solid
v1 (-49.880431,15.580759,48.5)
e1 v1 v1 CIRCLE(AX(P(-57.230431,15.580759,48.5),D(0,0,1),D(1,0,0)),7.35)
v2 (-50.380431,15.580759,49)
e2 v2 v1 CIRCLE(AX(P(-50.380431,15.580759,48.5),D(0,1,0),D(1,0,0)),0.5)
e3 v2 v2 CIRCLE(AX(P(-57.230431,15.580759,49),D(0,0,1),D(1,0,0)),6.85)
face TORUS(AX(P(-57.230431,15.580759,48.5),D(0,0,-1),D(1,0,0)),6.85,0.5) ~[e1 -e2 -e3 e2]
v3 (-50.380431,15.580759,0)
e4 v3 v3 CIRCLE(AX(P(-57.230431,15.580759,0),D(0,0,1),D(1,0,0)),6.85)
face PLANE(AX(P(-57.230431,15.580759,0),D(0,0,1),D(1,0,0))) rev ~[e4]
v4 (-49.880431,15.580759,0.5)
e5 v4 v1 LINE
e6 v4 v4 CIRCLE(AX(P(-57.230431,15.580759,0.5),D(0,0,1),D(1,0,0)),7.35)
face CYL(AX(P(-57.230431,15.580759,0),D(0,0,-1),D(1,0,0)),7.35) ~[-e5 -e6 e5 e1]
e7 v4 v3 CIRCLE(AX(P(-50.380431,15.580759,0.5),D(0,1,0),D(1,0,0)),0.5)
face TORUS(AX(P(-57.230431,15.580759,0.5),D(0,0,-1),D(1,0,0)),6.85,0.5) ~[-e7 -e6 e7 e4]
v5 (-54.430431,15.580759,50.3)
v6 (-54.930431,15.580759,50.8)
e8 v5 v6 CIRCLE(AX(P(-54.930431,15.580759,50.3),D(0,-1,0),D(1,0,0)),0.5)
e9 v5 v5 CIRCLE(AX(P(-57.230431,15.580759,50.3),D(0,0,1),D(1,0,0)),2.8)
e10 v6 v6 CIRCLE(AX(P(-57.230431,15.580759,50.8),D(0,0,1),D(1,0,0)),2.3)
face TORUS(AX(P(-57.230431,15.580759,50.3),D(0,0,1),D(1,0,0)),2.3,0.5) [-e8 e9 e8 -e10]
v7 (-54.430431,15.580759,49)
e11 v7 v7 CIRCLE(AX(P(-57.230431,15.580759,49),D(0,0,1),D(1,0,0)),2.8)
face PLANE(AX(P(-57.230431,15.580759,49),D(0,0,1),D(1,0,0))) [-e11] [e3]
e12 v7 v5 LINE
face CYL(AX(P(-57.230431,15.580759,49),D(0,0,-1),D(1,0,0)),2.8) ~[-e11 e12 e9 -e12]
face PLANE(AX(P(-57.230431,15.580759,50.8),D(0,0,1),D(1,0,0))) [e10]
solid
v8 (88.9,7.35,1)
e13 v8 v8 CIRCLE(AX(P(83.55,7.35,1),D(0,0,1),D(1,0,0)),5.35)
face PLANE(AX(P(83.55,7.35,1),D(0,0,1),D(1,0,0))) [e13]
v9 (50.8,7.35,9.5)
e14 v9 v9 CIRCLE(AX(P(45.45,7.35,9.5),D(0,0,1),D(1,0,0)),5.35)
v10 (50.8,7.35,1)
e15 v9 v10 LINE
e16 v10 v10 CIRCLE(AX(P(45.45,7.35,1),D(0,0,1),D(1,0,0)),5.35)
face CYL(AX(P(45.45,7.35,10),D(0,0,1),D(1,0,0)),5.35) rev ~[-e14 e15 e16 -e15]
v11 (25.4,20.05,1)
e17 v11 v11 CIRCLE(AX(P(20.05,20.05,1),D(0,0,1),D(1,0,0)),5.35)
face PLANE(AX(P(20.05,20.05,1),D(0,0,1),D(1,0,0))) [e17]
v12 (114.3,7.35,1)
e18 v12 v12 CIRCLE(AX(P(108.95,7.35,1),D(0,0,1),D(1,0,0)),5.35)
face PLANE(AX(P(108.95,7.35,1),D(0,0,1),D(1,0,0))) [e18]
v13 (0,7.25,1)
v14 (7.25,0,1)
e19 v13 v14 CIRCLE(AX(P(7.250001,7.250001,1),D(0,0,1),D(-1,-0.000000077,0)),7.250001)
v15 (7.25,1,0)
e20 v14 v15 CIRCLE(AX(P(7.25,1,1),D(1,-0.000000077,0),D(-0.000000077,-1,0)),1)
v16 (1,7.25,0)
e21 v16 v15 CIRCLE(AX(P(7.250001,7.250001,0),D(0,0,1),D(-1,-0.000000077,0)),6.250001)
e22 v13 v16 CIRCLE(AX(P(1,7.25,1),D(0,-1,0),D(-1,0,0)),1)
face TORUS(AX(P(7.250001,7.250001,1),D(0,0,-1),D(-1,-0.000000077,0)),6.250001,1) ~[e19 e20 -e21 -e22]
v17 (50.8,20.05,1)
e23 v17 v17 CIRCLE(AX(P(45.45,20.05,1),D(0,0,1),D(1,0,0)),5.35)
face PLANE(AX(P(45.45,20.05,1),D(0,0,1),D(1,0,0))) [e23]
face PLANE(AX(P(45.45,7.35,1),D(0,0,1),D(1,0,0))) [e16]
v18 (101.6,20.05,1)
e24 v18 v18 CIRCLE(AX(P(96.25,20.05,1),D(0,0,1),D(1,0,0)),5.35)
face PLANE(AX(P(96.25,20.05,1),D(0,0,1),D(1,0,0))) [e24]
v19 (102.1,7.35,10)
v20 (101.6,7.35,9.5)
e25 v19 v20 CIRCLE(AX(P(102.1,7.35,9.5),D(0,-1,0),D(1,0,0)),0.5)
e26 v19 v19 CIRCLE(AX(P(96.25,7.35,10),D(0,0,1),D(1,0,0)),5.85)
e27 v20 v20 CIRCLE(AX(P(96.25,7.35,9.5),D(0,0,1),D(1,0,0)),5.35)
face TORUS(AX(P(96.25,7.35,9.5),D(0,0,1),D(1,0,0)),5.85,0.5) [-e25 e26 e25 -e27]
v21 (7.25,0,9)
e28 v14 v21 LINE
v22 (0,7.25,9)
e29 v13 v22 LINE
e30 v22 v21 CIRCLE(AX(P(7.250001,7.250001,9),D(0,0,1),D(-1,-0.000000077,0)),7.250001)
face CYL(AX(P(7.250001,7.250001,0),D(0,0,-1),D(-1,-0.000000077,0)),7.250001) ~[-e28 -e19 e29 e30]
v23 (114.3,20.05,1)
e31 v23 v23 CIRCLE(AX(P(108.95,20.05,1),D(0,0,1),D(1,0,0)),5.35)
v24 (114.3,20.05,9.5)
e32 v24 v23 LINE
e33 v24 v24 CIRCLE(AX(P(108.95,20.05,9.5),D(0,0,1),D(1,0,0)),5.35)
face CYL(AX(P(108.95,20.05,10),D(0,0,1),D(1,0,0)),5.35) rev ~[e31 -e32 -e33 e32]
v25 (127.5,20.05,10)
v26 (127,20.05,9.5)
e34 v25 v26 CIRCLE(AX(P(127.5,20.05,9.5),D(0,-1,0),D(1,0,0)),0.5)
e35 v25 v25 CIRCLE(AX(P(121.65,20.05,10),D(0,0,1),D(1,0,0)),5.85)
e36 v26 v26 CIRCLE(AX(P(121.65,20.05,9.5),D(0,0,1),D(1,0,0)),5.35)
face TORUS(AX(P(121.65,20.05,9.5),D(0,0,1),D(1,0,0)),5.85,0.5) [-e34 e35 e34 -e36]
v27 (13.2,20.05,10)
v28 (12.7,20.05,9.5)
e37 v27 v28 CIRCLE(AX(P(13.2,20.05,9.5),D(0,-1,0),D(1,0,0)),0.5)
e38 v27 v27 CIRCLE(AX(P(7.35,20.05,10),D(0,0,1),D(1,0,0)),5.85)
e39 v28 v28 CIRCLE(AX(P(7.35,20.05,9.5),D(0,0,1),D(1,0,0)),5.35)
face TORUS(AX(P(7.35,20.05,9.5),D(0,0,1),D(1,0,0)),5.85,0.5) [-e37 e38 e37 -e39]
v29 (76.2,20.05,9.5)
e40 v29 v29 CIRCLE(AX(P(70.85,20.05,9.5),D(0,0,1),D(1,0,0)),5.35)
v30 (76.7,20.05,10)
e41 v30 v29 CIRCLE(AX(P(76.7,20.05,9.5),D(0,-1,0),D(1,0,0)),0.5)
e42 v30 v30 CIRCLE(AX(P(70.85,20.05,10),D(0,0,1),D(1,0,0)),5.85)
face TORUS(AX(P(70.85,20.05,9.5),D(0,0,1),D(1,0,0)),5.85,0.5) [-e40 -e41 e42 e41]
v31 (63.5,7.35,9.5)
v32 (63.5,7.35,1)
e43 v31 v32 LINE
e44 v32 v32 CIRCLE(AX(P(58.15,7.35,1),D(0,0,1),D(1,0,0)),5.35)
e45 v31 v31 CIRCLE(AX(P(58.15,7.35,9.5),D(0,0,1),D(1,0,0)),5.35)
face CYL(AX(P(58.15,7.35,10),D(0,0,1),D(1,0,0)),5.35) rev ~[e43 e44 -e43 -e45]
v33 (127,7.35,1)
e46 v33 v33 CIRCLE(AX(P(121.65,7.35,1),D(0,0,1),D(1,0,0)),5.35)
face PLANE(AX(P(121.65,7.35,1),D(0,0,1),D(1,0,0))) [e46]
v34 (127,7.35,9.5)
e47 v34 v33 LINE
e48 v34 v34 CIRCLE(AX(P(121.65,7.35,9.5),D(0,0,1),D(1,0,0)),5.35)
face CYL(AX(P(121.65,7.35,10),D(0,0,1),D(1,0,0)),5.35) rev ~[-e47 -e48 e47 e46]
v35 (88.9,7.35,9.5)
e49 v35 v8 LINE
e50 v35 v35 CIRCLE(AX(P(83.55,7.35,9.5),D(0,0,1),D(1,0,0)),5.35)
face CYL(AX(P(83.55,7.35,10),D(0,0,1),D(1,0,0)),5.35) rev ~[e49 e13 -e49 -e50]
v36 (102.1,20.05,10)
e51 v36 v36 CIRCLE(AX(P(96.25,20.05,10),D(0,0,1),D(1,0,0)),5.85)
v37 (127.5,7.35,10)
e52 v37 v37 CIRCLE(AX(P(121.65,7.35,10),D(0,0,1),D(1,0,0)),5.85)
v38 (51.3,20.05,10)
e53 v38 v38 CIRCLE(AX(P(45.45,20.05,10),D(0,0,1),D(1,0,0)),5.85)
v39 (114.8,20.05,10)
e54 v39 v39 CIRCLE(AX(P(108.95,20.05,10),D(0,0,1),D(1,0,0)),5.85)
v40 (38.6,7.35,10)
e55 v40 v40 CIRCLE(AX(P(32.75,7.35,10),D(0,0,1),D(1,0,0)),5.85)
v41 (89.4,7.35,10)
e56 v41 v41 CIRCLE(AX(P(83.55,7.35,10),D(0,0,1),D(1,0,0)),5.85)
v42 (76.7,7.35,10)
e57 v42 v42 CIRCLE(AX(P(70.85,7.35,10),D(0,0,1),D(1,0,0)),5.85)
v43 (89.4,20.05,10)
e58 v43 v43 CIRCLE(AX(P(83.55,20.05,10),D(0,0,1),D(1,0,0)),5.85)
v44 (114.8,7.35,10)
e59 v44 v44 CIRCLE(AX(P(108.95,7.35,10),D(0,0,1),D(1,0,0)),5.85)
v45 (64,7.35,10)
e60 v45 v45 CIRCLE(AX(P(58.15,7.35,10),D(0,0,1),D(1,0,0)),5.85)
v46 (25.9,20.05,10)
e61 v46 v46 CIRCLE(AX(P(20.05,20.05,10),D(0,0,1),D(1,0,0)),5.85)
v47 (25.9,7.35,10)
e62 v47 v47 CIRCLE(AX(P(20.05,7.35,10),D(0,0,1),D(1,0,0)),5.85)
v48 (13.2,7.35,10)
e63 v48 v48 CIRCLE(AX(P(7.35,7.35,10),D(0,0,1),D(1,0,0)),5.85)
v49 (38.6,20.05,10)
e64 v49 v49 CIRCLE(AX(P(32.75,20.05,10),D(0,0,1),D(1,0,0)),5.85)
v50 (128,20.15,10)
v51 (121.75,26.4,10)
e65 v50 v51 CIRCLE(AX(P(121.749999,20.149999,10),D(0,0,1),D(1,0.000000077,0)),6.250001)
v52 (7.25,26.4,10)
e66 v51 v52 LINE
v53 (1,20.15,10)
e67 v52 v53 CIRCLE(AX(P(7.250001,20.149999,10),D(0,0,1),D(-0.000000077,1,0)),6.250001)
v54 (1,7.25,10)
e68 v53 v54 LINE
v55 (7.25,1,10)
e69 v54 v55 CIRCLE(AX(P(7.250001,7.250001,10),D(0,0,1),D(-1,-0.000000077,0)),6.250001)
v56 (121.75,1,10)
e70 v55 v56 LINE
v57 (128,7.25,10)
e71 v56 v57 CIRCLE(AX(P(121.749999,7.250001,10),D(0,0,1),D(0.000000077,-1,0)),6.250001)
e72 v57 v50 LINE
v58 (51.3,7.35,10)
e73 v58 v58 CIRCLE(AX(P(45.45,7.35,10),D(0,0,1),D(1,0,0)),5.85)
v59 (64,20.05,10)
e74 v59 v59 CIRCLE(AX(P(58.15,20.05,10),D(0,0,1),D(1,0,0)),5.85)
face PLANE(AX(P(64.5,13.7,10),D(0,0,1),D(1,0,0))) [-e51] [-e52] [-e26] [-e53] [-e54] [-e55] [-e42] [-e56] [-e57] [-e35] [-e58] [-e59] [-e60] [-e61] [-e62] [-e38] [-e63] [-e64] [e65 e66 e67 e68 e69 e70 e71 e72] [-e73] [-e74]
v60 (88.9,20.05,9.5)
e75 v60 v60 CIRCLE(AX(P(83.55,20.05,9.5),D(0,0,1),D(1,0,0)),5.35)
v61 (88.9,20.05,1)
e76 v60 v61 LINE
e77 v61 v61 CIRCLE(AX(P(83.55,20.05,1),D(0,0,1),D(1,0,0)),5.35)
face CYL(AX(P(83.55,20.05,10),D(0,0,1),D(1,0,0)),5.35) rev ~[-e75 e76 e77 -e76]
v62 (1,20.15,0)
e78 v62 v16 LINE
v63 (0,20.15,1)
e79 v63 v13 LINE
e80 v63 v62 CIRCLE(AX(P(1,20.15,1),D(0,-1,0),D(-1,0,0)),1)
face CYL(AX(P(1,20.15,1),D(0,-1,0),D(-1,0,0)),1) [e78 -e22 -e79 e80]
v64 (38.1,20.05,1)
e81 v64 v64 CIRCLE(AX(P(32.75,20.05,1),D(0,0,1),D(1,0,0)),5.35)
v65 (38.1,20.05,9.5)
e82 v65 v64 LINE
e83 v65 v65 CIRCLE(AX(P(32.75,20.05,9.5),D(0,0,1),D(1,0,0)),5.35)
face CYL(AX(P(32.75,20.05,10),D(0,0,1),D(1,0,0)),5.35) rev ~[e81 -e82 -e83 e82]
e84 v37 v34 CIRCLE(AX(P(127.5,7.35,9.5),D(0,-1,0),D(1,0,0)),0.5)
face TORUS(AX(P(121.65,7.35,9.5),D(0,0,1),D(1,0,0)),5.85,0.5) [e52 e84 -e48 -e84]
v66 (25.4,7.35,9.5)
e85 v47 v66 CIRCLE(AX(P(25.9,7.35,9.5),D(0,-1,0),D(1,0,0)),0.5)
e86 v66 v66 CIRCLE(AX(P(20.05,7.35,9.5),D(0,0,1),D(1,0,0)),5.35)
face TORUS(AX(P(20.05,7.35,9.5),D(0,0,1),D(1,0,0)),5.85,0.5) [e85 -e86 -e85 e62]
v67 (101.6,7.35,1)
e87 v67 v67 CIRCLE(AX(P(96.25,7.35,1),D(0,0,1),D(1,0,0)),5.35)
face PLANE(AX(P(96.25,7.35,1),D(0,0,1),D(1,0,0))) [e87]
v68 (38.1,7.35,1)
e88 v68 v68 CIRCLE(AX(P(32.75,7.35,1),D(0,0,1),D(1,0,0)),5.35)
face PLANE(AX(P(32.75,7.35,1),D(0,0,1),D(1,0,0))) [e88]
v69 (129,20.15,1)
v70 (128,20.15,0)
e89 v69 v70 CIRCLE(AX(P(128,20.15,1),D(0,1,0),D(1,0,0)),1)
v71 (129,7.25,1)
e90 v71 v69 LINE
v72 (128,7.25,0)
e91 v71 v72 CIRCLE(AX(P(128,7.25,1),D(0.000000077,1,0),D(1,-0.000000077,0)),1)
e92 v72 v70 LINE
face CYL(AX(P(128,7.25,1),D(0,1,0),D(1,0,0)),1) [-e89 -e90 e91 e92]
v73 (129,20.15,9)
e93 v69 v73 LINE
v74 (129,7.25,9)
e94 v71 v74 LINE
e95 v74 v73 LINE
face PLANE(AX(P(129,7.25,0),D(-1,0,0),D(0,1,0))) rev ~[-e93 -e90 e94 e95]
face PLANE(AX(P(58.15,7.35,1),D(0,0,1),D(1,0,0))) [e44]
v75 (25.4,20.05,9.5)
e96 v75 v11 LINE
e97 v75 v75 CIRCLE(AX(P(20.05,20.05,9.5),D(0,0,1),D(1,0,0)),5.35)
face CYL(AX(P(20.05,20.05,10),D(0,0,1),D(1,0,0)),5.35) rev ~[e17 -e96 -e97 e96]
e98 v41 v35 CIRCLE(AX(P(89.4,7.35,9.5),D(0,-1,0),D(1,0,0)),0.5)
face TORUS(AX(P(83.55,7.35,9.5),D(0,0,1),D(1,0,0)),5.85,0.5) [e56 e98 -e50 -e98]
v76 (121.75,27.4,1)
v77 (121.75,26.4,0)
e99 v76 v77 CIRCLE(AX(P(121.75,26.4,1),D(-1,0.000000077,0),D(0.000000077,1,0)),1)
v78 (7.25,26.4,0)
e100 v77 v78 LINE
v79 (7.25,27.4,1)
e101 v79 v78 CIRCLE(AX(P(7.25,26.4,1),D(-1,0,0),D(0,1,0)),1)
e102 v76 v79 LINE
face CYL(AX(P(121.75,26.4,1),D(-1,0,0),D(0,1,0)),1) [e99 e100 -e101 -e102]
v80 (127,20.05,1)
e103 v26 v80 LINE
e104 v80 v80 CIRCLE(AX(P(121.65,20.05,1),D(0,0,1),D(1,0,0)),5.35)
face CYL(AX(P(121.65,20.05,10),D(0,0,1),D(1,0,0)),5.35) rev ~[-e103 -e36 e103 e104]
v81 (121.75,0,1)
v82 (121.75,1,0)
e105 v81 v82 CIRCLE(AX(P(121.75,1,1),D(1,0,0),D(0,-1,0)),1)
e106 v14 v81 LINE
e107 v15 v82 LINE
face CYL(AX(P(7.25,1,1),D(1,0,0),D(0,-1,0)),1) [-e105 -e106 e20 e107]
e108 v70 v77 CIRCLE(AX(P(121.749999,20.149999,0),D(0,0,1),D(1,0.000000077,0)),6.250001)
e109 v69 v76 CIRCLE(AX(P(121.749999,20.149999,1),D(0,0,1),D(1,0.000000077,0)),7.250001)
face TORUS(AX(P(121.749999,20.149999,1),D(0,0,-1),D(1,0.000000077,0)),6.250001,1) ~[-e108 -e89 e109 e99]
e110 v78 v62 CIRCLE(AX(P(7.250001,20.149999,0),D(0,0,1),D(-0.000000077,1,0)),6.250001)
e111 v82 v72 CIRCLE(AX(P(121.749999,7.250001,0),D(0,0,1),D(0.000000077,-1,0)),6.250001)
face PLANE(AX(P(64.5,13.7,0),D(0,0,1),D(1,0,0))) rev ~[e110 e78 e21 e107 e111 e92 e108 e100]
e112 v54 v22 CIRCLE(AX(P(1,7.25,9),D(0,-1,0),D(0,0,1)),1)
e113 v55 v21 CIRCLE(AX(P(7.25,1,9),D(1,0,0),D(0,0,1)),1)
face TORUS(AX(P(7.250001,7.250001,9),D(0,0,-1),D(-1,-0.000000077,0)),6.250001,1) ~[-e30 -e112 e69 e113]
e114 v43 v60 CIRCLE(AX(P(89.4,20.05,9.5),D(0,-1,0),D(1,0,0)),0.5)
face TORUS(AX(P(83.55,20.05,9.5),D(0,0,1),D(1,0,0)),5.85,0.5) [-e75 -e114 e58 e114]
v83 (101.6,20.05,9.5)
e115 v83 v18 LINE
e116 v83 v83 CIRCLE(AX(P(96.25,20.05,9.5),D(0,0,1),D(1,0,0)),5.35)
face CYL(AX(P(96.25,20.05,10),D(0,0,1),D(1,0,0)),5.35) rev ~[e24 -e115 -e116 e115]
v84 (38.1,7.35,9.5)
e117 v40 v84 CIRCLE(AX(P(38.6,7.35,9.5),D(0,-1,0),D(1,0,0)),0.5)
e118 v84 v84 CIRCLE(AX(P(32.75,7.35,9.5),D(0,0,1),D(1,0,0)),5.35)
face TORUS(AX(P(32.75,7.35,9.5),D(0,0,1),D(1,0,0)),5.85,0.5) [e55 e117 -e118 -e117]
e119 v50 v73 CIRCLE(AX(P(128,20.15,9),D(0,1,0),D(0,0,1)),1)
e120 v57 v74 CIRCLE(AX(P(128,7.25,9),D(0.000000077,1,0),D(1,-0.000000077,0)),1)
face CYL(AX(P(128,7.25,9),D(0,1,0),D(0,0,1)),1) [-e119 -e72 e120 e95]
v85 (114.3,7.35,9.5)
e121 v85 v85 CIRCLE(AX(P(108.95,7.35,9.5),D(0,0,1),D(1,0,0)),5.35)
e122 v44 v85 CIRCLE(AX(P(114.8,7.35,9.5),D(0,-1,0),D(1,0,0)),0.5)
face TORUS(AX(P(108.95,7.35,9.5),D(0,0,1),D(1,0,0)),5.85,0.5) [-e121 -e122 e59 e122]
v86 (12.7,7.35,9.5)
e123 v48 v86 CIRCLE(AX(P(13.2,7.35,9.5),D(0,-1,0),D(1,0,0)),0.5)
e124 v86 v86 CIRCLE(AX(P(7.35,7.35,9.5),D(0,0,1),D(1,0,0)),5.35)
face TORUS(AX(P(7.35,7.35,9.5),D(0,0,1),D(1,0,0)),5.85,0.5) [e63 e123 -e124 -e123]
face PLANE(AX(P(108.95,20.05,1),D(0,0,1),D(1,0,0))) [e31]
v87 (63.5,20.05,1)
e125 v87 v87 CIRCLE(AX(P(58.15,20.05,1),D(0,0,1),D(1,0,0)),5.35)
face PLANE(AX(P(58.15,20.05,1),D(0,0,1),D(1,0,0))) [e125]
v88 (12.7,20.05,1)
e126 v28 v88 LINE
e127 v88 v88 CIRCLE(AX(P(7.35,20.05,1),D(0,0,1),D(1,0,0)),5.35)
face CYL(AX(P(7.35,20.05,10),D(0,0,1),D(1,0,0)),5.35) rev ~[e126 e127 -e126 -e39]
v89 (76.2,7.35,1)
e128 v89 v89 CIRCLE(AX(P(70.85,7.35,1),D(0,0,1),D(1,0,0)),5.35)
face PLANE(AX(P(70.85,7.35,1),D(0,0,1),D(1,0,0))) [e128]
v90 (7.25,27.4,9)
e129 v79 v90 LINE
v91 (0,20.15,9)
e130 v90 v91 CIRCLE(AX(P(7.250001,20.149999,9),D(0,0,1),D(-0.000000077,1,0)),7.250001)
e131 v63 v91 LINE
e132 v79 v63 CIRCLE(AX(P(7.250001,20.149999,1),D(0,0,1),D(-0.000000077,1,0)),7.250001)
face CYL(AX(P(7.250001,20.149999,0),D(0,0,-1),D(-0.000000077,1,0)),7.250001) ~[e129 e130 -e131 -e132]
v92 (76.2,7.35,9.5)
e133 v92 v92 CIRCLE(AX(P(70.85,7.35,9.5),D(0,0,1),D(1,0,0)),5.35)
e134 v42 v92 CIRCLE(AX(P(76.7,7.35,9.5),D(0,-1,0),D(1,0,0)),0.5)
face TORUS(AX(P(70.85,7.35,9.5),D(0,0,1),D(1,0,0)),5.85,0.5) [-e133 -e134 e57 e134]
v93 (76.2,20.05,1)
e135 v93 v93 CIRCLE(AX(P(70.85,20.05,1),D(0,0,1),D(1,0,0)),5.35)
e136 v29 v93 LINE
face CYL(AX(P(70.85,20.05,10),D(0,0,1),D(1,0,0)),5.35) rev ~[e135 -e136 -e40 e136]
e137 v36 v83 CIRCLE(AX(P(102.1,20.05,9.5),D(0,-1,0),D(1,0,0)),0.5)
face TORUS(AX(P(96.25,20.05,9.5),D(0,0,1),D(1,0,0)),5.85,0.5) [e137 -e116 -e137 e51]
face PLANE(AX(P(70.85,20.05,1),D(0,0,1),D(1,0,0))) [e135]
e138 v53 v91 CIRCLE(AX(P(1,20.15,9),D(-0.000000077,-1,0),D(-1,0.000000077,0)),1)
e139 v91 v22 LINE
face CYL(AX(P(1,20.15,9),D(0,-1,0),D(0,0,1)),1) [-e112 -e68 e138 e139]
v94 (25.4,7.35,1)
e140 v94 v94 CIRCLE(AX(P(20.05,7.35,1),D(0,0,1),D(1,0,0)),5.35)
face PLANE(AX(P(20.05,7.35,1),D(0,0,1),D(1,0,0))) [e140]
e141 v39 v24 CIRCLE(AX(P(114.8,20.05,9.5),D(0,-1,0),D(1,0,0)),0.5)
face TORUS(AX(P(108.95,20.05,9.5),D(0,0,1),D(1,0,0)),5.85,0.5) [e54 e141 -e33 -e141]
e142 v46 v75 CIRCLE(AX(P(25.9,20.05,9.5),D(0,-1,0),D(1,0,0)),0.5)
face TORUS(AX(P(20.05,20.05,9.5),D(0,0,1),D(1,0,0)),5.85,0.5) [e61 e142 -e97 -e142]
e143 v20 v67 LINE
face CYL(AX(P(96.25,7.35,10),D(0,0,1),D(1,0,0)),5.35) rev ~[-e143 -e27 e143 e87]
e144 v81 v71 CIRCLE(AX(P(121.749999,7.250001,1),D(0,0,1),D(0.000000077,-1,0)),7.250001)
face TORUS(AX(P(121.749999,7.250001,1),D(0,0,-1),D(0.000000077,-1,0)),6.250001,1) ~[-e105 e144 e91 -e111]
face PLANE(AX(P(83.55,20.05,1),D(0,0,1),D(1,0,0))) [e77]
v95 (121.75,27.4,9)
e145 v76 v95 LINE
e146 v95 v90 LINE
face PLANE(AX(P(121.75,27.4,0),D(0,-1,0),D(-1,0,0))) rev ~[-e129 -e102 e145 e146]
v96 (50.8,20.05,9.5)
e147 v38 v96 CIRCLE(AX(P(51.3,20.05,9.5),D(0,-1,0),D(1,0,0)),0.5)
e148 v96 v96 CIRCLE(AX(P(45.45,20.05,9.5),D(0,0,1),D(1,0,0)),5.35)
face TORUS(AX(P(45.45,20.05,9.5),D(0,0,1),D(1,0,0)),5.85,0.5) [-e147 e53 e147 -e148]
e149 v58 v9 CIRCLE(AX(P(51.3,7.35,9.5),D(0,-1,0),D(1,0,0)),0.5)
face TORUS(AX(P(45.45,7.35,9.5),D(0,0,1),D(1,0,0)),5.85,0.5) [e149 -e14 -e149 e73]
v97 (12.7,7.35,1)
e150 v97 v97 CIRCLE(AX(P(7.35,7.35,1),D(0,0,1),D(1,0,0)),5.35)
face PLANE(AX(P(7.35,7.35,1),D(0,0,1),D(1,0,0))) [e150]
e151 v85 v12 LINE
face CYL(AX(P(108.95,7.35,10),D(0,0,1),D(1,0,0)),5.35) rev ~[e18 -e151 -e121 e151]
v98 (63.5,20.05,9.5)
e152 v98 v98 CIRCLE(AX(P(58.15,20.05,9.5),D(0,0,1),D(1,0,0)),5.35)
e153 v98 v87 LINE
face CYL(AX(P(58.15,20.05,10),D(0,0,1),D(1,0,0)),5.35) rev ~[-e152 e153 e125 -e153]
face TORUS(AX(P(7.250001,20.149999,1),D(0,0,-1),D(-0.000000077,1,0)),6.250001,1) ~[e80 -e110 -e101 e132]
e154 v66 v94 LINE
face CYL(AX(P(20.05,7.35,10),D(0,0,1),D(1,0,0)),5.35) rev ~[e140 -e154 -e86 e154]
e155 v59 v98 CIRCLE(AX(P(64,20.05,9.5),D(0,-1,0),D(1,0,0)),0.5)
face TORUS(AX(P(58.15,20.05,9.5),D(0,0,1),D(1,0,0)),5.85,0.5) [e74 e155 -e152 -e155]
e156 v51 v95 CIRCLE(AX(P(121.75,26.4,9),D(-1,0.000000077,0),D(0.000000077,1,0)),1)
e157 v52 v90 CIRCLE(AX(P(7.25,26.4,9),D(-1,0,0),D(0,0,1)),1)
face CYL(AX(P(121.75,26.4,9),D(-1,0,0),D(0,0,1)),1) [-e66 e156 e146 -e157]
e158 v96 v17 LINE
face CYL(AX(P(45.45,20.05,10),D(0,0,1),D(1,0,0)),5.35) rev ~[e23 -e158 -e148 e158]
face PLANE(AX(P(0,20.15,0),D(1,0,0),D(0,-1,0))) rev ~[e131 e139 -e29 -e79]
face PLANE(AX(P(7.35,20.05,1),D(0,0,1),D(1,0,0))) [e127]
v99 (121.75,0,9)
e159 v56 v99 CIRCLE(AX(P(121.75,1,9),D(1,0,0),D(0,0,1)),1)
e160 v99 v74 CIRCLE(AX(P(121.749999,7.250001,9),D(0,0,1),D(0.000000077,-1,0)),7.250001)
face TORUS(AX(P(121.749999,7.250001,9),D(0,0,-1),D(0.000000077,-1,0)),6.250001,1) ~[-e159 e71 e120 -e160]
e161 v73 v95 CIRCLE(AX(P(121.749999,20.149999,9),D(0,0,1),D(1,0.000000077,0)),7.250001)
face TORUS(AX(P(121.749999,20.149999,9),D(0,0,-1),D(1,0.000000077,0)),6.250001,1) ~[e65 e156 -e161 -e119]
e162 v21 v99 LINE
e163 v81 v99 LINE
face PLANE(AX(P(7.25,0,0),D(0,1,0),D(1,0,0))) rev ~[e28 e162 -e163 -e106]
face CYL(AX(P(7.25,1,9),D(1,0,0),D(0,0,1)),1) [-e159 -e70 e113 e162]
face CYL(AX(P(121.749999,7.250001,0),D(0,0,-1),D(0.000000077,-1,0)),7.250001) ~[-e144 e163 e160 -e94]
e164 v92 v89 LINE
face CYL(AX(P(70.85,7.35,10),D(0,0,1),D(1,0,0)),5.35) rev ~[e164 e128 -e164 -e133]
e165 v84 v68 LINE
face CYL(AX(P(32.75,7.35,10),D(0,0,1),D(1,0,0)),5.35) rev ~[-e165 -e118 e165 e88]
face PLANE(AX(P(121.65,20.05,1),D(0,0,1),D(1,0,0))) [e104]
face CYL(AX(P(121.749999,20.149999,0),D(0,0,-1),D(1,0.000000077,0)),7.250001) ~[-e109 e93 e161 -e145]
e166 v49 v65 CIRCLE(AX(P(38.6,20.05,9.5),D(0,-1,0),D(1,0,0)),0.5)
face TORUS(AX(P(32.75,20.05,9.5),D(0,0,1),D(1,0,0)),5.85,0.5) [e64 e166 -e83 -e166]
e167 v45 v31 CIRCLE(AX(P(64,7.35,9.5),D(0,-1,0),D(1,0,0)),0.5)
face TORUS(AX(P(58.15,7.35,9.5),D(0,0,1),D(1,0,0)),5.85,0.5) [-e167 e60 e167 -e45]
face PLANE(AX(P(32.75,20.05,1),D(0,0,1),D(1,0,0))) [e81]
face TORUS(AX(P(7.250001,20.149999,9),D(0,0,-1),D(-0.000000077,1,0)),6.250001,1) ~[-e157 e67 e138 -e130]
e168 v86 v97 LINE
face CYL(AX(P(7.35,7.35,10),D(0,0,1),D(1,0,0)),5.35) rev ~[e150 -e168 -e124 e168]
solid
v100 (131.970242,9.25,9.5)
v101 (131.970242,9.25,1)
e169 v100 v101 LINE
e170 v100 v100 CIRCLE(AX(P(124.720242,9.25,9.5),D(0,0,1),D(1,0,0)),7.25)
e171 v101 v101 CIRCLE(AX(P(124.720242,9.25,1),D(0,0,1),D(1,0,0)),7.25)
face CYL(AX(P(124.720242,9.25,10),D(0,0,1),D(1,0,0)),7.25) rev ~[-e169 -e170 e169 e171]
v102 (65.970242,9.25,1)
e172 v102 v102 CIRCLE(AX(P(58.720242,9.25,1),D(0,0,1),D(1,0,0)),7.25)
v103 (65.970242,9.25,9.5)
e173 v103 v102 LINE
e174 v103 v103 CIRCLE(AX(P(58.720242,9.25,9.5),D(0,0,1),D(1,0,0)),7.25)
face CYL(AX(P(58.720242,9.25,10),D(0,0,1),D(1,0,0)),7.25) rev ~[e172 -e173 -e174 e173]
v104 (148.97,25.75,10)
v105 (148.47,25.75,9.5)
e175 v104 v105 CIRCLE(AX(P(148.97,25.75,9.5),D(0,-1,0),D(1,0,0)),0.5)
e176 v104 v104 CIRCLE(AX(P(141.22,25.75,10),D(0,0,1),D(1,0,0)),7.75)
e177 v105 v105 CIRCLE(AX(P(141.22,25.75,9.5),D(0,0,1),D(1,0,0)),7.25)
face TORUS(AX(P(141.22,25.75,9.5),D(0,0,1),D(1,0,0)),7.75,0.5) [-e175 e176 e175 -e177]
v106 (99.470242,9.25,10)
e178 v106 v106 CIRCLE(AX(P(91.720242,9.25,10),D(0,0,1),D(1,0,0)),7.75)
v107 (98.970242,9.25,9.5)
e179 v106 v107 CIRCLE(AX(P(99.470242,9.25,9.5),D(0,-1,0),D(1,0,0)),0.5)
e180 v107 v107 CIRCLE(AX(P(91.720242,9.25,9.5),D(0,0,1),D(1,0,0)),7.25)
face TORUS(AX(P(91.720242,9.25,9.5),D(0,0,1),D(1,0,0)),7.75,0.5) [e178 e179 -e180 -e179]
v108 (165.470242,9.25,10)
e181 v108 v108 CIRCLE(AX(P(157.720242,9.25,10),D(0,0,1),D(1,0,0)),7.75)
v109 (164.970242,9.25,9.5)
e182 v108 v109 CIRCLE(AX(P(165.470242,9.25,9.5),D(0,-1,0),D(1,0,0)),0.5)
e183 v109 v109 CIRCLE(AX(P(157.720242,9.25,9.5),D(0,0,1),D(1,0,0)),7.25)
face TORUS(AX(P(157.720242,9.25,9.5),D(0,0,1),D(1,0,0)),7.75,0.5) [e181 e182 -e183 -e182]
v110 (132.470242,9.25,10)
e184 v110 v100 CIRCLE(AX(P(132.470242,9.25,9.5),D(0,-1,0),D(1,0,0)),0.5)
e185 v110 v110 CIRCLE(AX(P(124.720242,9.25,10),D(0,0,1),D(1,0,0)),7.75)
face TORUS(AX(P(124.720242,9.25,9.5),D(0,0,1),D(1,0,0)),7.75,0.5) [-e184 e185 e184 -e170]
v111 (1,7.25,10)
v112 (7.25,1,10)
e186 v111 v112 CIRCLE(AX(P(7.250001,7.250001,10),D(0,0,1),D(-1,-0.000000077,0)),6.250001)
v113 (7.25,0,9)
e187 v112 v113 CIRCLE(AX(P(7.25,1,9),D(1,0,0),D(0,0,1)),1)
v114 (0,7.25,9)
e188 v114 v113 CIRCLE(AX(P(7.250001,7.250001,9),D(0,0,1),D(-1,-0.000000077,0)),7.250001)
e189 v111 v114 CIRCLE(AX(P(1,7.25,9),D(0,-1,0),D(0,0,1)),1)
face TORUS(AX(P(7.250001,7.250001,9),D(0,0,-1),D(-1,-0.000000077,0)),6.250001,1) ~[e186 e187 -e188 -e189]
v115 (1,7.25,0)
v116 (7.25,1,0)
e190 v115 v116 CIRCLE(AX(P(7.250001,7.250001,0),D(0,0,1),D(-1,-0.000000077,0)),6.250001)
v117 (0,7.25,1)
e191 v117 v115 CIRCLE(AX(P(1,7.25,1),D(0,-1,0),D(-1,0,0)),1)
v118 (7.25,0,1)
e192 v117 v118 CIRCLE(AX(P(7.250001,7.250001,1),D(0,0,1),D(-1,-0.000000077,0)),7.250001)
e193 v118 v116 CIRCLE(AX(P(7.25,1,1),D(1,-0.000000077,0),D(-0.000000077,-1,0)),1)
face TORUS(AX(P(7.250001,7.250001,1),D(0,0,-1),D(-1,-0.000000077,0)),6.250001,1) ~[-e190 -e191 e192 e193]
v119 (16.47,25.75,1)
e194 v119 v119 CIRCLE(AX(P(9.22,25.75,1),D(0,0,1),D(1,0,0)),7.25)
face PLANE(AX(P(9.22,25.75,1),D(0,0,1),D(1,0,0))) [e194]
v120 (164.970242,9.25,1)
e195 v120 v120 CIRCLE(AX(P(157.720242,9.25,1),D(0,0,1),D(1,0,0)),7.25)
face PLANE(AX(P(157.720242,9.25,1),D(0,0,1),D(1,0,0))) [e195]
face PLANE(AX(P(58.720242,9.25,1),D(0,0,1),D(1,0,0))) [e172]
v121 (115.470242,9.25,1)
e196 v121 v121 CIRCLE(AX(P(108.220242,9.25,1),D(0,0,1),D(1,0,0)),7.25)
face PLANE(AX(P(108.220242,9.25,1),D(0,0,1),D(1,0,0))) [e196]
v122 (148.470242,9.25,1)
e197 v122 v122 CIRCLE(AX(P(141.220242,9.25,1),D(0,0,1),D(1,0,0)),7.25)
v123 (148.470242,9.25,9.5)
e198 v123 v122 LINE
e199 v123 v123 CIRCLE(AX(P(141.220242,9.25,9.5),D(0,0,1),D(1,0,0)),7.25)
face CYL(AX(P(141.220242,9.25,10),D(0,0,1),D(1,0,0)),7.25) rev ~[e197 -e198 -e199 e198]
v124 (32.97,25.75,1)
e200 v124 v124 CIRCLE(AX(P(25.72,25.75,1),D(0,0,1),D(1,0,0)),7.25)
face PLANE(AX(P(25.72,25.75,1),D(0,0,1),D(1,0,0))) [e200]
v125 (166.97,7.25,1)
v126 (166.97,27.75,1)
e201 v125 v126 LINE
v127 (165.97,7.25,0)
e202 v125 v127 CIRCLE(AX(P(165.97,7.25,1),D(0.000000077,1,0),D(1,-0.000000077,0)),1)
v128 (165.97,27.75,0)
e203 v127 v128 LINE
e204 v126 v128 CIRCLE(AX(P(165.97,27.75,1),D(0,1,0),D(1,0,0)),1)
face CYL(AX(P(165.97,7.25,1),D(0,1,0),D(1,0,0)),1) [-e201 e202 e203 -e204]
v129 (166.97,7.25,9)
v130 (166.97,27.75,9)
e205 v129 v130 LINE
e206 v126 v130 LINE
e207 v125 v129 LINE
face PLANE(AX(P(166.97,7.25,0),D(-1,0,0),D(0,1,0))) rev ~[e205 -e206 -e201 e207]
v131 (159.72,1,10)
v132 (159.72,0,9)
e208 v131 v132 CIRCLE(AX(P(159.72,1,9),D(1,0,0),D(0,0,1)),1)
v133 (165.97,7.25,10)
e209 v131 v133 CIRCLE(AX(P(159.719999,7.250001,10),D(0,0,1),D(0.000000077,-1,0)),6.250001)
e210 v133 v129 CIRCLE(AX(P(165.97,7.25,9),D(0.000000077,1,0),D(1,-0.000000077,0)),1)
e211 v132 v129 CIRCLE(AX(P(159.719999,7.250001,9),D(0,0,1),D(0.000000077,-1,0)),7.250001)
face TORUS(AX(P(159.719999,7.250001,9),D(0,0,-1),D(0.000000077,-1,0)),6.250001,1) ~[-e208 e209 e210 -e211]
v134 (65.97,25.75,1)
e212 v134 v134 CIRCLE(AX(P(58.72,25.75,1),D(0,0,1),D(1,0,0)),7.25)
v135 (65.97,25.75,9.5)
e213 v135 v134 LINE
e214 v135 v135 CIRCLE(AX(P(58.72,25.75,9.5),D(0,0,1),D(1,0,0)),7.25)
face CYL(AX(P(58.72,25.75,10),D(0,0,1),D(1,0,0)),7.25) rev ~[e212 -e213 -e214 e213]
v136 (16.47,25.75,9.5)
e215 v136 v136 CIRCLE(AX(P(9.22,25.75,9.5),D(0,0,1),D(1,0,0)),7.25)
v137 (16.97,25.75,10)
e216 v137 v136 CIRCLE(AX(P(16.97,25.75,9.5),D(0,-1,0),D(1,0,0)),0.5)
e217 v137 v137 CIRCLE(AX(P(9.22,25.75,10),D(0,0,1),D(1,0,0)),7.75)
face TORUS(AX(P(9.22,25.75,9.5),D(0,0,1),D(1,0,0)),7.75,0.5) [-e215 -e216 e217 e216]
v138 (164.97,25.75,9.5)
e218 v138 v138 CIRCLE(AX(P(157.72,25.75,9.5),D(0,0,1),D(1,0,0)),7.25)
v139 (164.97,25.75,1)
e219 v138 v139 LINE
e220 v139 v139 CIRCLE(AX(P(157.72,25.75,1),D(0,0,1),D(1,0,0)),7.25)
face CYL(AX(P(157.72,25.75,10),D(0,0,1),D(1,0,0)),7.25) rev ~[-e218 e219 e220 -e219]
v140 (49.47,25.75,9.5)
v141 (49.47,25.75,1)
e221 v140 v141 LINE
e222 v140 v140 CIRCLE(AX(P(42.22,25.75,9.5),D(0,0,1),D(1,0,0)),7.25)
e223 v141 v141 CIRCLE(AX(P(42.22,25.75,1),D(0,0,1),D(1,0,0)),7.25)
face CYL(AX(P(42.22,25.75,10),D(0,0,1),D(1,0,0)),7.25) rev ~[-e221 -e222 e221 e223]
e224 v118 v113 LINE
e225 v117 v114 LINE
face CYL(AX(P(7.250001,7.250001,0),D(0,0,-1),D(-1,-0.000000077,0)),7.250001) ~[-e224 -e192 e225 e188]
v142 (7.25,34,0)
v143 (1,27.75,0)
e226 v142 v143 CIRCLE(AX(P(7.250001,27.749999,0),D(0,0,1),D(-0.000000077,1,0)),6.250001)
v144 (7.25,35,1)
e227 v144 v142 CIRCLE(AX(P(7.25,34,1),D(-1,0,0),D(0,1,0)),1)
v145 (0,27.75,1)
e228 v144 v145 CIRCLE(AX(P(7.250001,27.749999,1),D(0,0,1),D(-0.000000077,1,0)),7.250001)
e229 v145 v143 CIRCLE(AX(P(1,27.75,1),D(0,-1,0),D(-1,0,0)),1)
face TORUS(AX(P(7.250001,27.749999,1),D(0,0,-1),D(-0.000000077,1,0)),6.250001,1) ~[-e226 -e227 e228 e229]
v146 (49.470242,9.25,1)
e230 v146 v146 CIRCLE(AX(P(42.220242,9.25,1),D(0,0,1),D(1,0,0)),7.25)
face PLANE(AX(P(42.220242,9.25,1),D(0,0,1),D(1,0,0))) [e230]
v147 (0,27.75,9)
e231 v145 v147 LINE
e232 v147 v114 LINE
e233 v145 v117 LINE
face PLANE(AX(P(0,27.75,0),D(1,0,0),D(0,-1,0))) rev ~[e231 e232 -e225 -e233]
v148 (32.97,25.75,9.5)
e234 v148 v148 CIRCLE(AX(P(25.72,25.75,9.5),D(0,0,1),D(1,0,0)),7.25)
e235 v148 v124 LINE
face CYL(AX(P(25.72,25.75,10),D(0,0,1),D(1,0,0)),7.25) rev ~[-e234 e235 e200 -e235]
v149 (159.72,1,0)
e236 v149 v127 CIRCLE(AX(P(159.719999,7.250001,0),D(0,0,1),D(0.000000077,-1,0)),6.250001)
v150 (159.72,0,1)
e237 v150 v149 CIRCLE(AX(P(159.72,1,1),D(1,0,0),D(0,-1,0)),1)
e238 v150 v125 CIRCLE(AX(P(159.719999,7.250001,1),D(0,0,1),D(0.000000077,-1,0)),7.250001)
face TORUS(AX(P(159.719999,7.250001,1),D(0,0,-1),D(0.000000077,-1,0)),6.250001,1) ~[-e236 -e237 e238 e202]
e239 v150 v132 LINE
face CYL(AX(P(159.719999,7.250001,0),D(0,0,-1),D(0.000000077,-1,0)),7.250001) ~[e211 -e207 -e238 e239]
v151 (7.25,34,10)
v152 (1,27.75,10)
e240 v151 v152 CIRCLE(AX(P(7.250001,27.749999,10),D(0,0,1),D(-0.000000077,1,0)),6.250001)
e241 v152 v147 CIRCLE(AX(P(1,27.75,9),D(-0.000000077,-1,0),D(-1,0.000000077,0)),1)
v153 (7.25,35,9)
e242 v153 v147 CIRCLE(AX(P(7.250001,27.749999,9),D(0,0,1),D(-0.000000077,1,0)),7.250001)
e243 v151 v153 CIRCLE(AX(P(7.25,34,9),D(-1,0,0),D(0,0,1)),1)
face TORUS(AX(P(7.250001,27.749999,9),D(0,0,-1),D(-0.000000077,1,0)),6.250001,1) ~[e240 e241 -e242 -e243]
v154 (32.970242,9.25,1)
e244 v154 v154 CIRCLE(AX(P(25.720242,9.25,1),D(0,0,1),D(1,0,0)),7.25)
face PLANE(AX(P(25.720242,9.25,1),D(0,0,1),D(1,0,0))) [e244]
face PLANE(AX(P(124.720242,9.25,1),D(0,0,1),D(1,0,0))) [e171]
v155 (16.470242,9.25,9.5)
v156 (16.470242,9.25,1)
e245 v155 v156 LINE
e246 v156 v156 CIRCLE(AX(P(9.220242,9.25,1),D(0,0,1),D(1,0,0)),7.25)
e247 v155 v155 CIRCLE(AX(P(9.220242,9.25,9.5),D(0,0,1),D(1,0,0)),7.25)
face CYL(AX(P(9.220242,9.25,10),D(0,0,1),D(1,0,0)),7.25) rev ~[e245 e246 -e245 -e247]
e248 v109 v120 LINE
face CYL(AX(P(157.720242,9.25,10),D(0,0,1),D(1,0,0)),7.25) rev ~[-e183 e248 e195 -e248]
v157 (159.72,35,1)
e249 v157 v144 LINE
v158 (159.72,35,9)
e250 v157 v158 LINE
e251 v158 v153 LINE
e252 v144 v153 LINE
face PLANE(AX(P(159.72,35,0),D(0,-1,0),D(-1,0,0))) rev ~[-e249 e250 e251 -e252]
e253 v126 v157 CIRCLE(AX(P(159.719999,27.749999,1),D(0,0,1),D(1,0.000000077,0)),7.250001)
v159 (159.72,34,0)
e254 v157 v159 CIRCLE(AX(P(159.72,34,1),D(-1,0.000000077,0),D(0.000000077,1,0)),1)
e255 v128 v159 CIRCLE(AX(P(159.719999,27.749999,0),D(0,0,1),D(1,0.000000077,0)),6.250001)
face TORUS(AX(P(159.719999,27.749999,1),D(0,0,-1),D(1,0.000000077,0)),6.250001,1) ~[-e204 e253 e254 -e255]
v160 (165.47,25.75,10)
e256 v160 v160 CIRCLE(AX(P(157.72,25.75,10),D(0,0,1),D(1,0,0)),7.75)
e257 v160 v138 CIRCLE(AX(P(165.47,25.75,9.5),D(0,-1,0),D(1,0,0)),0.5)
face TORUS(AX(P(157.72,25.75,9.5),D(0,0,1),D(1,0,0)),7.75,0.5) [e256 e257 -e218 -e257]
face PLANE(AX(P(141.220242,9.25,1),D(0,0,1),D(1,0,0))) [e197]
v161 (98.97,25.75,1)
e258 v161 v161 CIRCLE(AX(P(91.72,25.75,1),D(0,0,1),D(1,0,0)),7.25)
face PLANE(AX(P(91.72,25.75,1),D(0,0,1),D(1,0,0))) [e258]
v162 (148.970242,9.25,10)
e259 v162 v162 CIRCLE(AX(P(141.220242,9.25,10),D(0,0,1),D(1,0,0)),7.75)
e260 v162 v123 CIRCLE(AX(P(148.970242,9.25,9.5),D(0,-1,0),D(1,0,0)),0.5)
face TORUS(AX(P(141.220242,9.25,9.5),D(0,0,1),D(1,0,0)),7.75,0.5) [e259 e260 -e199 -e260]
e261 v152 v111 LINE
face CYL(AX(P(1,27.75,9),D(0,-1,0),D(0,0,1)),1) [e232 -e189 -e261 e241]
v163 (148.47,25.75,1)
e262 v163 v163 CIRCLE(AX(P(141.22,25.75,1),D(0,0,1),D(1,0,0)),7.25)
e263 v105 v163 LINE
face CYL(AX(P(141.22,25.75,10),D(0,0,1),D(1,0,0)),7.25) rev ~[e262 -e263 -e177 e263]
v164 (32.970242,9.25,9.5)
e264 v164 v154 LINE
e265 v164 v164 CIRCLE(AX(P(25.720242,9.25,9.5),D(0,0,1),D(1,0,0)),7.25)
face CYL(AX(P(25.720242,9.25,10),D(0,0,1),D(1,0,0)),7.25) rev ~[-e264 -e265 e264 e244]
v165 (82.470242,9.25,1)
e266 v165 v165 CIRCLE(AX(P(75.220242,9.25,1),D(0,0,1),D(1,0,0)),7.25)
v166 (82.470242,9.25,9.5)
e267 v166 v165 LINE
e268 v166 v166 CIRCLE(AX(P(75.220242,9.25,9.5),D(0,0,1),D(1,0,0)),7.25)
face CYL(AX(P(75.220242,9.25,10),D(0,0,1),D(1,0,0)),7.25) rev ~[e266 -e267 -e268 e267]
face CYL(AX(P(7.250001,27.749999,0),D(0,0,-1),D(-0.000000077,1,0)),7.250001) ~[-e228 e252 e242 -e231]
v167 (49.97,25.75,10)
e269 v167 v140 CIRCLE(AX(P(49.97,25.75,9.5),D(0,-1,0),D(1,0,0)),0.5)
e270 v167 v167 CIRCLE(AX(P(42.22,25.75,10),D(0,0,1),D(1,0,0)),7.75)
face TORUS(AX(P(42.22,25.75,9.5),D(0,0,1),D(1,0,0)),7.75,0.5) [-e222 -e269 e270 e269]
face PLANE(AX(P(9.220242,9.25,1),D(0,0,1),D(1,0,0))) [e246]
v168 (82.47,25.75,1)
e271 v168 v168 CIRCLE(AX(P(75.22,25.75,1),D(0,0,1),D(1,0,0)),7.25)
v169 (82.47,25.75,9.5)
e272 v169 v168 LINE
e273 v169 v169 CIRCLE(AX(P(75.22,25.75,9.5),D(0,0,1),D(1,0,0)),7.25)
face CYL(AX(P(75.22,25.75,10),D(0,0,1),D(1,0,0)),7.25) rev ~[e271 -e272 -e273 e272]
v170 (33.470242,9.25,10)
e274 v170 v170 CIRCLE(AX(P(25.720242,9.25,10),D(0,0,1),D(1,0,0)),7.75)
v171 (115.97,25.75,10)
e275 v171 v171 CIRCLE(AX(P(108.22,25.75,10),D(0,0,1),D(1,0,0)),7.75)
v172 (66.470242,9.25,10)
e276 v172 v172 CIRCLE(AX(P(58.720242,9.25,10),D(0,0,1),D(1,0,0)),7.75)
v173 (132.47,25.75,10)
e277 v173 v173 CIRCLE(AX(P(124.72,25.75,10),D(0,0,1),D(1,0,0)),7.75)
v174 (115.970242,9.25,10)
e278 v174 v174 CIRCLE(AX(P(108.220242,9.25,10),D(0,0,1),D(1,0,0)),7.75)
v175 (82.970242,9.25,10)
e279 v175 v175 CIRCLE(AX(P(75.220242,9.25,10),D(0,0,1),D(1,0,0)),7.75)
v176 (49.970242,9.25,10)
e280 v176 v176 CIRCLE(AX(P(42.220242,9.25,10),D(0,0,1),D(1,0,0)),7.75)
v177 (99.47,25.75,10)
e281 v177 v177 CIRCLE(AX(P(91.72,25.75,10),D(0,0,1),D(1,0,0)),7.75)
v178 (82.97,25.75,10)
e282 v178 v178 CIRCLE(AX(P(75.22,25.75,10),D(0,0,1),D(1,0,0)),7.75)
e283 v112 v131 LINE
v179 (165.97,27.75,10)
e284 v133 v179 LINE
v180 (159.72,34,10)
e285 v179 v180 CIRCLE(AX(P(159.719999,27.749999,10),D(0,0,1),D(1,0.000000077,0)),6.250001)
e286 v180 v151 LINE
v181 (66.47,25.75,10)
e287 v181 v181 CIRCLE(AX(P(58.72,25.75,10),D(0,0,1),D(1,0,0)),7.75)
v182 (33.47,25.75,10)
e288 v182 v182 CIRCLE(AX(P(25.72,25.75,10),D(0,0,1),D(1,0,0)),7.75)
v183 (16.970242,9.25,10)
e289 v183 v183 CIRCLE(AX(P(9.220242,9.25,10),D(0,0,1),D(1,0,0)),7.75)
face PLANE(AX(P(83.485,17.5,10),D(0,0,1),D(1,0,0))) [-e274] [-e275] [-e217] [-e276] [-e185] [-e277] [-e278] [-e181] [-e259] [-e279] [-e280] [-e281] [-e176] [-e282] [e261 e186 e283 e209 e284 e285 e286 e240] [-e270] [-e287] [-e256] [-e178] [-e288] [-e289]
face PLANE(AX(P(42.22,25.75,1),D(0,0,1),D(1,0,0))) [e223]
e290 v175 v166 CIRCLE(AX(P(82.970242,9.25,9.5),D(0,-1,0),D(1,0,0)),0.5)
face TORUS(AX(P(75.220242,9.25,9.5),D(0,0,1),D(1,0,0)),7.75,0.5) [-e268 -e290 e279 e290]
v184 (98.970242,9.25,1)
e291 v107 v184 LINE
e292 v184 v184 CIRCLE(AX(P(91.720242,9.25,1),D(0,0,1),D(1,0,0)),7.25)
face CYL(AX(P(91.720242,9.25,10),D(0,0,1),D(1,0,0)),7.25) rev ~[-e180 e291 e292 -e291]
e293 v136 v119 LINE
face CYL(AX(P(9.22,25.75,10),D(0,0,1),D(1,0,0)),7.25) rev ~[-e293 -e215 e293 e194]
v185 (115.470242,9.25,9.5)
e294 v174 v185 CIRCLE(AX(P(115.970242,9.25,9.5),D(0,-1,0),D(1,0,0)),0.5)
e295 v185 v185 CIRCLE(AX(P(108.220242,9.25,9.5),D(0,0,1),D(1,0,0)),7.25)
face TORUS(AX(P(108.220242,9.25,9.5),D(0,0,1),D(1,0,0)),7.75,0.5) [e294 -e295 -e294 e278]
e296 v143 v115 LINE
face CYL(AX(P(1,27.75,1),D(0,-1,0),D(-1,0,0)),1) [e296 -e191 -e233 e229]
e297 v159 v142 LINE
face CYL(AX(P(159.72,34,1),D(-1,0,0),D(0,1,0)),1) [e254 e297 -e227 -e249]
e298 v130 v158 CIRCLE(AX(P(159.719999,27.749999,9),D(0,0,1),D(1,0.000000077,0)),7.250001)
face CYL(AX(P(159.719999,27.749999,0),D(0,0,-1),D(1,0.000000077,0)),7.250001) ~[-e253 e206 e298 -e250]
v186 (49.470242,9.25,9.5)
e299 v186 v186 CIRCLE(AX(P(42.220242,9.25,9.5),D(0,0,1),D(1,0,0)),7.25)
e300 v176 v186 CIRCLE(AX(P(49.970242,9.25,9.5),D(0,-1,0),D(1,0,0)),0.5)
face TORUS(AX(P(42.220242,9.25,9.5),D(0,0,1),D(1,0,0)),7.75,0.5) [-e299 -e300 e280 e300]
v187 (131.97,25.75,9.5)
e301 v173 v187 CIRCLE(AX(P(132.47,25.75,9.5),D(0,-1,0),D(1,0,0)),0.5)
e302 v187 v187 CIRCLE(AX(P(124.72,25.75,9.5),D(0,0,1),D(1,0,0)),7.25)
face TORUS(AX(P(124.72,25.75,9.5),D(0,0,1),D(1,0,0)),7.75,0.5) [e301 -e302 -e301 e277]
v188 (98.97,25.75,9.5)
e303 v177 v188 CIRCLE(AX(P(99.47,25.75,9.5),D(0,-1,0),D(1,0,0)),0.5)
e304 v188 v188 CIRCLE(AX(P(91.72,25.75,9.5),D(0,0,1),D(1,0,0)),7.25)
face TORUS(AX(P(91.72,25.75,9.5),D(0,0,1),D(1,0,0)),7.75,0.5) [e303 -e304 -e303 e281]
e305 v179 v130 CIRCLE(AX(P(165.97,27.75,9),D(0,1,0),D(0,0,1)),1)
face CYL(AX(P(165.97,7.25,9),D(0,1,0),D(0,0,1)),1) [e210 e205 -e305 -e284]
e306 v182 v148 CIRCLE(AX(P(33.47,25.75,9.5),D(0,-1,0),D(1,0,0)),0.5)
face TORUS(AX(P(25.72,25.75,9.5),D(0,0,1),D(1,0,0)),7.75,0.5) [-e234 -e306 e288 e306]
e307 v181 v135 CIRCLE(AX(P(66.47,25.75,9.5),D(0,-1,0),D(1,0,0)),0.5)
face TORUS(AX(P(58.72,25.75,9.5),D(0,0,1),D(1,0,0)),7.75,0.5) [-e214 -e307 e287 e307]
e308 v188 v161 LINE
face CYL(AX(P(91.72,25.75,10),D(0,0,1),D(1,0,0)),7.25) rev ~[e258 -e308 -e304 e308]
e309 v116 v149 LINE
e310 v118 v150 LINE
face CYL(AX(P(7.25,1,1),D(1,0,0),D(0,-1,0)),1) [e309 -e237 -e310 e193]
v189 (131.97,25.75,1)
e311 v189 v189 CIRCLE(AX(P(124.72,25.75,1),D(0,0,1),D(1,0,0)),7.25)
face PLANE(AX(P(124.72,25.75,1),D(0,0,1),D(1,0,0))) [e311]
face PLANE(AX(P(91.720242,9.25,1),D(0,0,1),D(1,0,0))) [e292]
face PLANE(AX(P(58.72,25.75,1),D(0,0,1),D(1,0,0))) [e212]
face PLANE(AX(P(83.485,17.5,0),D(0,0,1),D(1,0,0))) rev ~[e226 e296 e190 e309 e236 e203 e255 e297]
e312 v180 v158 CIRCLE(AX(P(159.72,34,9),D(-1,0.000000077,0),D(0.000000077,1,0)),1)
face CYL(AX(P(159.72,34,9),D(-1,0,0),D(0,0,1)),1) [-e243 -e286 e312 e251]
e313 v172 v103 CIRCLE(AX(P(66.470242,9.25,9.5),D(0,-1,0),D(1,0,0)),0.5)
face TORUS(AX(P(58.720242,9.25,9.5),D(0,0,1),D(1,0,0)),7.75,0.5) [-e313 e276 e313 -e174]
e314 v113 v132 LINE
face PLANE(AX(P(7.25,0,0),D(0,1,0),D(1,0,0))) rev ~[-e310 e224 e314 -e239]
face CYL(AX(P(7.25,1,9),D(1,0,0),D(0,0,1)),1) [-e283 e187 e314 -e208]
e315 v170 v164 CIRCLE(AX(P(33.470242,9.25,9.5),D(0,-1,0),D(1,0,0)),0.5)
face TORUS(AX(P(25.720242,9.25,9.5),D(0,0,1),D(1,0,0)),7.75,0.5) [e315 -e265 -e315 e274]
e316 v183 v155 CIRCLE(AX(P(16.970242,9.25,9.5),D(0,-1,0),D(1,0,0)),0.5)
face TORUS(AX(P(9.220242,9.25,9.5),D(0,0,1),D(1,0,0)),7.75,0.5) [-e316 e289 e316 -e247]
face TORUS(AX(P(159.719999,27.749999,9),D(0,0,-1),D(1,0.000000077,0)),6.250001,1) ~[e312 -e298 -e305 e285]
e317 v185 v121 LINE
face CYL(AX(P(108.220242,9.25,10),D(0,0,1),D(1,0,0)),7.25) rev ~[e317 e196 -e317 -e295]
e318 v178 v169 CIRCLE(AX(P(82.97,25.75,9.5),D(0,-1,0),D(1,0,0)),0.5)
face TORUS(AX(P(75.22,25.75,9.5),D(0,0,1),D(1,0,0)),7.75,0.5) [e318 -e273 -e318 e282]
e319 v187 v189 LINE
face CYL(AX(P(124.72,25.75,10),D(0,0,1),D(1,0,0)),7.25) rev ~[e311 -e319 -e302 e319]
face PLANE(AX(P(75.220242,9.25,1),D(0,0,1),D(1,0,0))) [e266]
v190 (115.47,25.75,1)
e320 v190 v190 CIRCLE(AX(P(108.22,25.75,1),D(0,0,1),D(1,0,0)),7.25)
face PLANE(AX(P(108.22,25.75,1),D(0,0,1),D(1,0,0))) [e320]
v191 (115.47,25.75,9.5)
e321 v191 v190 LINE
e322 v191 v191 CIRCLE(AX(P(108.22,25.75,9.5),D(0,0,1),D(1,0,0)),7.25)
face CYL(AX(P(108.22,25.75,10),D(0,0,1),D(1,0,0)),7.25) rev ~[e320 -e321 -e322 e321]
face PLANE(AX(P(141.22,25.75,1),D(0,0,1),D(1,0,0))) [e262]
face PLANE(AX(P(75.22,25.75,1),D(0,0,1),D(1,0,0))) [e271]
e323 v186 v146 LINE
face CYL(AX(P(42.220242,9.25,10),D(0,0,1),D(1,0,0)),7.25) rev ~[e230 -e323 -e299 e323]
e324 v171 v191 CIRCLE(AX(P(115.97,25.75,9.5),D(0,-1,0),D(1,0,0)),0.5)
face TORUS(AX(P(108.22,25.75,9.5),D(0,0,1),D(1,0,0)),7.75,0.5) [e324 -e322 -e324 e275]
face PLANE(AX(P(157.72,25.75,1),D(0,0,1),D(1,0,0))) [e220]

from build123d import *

# Parameters (mm, degrees)
SKETCH001_R     = 7.35
PAD_DEPTH       = 49
SKETCH002_R     = 2.8
PAD001_DEPTH    = 1.8
FILLET_R        = 0.5
FILLET001_R     = 0.5
FILLET002_R     = 0.5
PAD002_DEPTH    = 10
SKETCH003_R     = 7.25
POCKET_DEPTH    = 9
FILLET003_R     = 1
FILLET004_R     = 0.5
FILLET005_R     = 1
PAD003_DEPTH    = 10
SKETCH005_R     = 5.35
POCKET001_DEPTH = 9
FILLET006_R     = 1
FILLET007_R     = 0.5
FILLET008_R     = 1


with BuildPart() as aabattery:
    # Sketch001 → Pad (new body)
    with BuildSketch(Plane.XY):
        with Locations((-57.230431, 15.580759)):
            Circle(SKETCH001_R)
    extrude(amount=PAD_DEPTH)

    # Sketch002 → Pad001 (join)
    with BuildSketch(Plane.XY.offset(49)):
        with Locations((-57.230431, 15.580759)):
            Circle(SKETCH002_R)
    extrude(amount=PAD001_DEPTH)

    # Fillet
    fillet_edges = [aabattery.edges().sort_by_distance(p)[0] for p in [
        (-60.030431, 15.580759, 50.8),
    ]]
    fillet(fillet_edges, radius=FILLET_R)

    # Fillet001
    fillet001_edges = [aabattery.edges().sort_by_distance(p)[0] for p in [
        (-64.580431, 15.580759, 49),
    ]]
    fillet(fillet001_edges, radius=FILLET001_R)

    # Fillet002
    fillet002_edges = [aabattery.edges().sort_by_distance(p)[0] for p in [
        (-64.580431, 15.580759, 0),
    ]]
    fillet(fillet002_edges, radius=FILLET002_R)


with BuildPart() as aaholder:
    # Sketch → Pad002 (new body)
    with BuildSketch(Plane.XY):
        with BuildLine():
            Line((0, 27.75), (0, 7.25))
            ThreePointArc((0, 7.25), (2.123476, 2.123476), (7.25, 0))
            Line((7.25, 0), (159.72, 0))
            ThreePointArc((159.72, 0), (164.846524, 2.123476), (166.97, 7.25))
            Line((166.97, 7.25), (166.97, 27.75))
            ThreePointArc((166.97, 27.75), (164.846524, 32.876524), (159.72, 35))
            Line((159.72, 35), (7.25, 35))
            ThreePointArc((7.25, 35), (2.123476, 32.876524), (0, 27.75))
        make_face()
    extrude(amount=PAD002_DEPTH)

    # Sketch003 → Pocket (cut)
    with BuildSketch(Plane.XY.offset(10)):
        with Locations((9.220242, 9.25)):
            Circle(SKETCH003_R)
        with Locations((25.720242, 9.25)):
            Circle(SKETCH003_R)
        with Locations((42.220242, 9.25)):
            Circle(SKETCH003_R)
        with Locations((58.720242, 9.25)):
            Circle(SKETCH003_R)
        with Locations((75.220242, 9.25)):
            Circle(SKETCH003_R)
        with Locations((91.720242, 9.25)):
            Circle(SKETCH003_R)
        with Locations((108.220242, 9.25)):
            Circle(SKETCH003_R)
        with Locations((124.720242, 9.25)):
            Circle(SKETCH003_R)
        with Locations((141.220242, 9.25)):
            Circle(SKETCH003_R)
        with Locations((157.720242, 9.25)):
            Circle(SKETCH003_R)
        with Locations((9.22, 25.75)):
            Circle(SKETCH003_R)
        with Locations((25.72, 25.75)):
            Circle(SKETCH003_R)
        with Locations((42.22, 25.75)):
            Circle(SKETCH003_R)
        with Locations((58.72, 25.75)):
            Circle(SKETCH003_R)
        with Locations((75.22, 25.75)):
            Circle(SKETCH003_R)
        with Locations((91.72, 25.75)):
            Circle(SKETCH003_R)
        with Locations((108.22, 25.75)):
            Circle(SKETCH003_R)
        with Locations((124.72, 25.75)):
            Circle(SKETCH003_R)
        with Locations((141.22, 25.75)):
            Circle(SKETCH003_R)
        with Locations((157.72, 25.75)):
            Circle(SKETCH003_R)
    extrude(amount=-POCKET_DEPTH, mode=Mode.SUBTRACT)

    # Fillet003
    fillet003_edges = [aaholder.edges().sort_by_distance(p)[0] for p in [
        (83.485, 0, 10),
        (2.123476, 2.123476, 10),
        (0, 17.5, 10),
        (2.123476, 32.876524, 10),
        (83.485, 35, 10),
        (164.846524, 32.876524, 10),
        (166.97, 17.5, 10),
        (164.846524, 2.123476, 10),
    ]]
    fillet(fillet003_edges, radius=FILLET003_R)

    # Fillet004
    fillet004_edges = [aaholder.edges().sort_by_distance(p)[0] for p in [
        (1.97, 25.75, 10),
        (1.970242, 9.25, 10),
        (18.470242, 9.25, 10),
        (18.47, 25.75, 10),
        (34.97, 25.75, 10),
        (34.970242, 9.25, 10),
        (51.470242, 9.25, 10),
        (51.47, 25.75, 10),
        (67.97, 25.75, 10),
        (67.970242, 9.25, 10),
        (84.470242, 9.25, 10),
        (84.47, 25.75, 10),
        (100.97, 25.75, 10),
        (100.970242, 9.25, 10),
        (117.470242, 9.25, 10),
        (117.47, 25.75, 10),
        (133.97, 25.75, 10),
        (133.970242, 9.25, 10),
        (150.47, 25.75, 10),
        (150.470242, 9.25, 10),
    ]]
    fillet(fillet004_edges, radius=FILLET004_R)

    # Fillet005
    fillet005_edges = [aaholder.edges().sort_by_distance(p)[0] for p in [
        (0, 17.5, 0),
        (2.123476, 2.123476, 0),
        (83.485, 0, 0),
        (164.846524, 2.123476, 0),
        (166.97, 17.5, 0),
        (164.846524, 32.876524, 0),
        (83.485, 35, 0),
        (2.123476, 32.876524, 0),
    ]]
    fillet(fillet005_edges, radius=FILLET005_R)


with BuildPart() as aaaholder:
    # Sketch004 → Pad003 (new body)
    with BuildSketch(Plane.XY):
        with BuildLine():
            Line((0, 20.15), (0, 7.25))
            ThreePointArc((0, 7.25), (2.123476, 2.123476), (7.25, 0))
            Line((7.25, 0), (121.75, 0))
            ThreePointArc((121.75, 0), (126.876524, 2.123476), (129, 7.25))
            Line((129, 7.25), (129, 20.15))
            ThreePointArc((129, 20.15), (126.876524, 25.276524), (121.75, 27.4))
            Line((121.75, 27.4), (7.25, 27.4))
            ThreePointArc((7.25, 27.4), (2.123476, 25.276524), (0, 20.15))
        make_face()
    extrude(amount=PAD003_DEPTH)

    # Sketch005 → Pocket001 (cut)
    with BuildSketch(Plane.XY.offset(10)):
        with Locations((7.35, 7.35)):
            Circle(SKETCH005_R)
        with Locations((20.05, 7.35)):
            Circle(SKETCH005_R)
        with Locations((32.75, 7.35)):
            Circle(SKETCH005_R)
        with Locations((45.45, 7.35)):
            Circle(SKETCH005_R)
        with Locations((58.15, 7.35)):
            Circle(SKETCH005_R)
        with Locations((70.85, 7.35)):
            Circle(SKETCH005_R)
        with Locations((83.55, 7.35)):
            Circle(SKETCH005_R)
        with Locations((96.25, 7.35)):
            Circle(SKETCH005_R)
        with Locations((108.95, 7.35)):
            Circle(SKETCH005_R)
        with Locations((121.65, 7.35)):
            Circle(SKETCH005_R)
        with Locations((7.35, 20.05)):
            Circle(SKETCH005_R)
        with Locations((20.05, 20.05)):
            Circle(SKETCH005_R)
        with Locations((32.75, 20.05)):
            Circle(SKETCH005_R)
        with Locations((45.45, 20.05)):
            Circle(SKETCH005_R)
        with Locations((58.15, 20.05)):
            Circle(SKETCH005_R)
        with Locations((70.85, 20.05)):
            Circle(SKETCH005_R)
        with Locations((83.55, 20.05)):
            Circle(SKETCH005_R)
        with Locations((96.25, 20.05)):
            Circle(SKETCH005_R)
        with Locations((108.95, 20.05)):
            Circle(SKETCH005_R)
        with Locations((121.65, 20.05)):
            Circle(SKETCH005_R)
    extrude(amount=-POCKET001_DEPTH, mode=Mode.SUBTRACT)

    # Fillet006
    fillet006_edges = [aaaholder.edges().sort_by_distance(p)[0] for p in [
        (64.5, 0, 10),
        (2.123476, 2.123476, 10),
        (0, 13.7, 10),
        (2.123476, 25.276524, 10),
        (64.5, 27.4, 10),
        (126.876524, 25.276524, 10),
        (129, 13.7, 10),
        (126.876524, 2.123476, 10),
    ]]
    fillet(fillet006_edges, radius=FILLET006_R)

    # Fillet007
    fillet007_edges = [aaaholder.edges().sort_by_distance(p)[0] for p in [
        (2, 20.05, 10),
        (2, 7.35, 10),
        (14.7, 7.35, 10),
        (14.7, 20.05, 10),
        (27.4, 20.05, 10),
        (27.4, 7.35, 10),
        (40.1, 7.35, 10),
        (40.1, 20.05, 10),
        (52.8, 20.05, 10),
        (52.8, 7.35, 10),
        (65.5, 7.35, 10),
        (65.5, 20.05, 10),
        (78.2, 20.05, 10),
        (78.2, 7.35, 10),
        (90.9, 7.35, 10),
        (90.9, 20.05, 10),
        (103.6, 20.05, 10),
        (103.6, 7.35, 10),
        (116.3, 20.05, 10),
        (116.3, 7.35, 10),
    ]]
    fillet(fillet007_edges, radius=FILLET007_R)

    # Fillet008
    fillet008_edges = [aaaholder.edges().sort_by_distance(p)[0] for p in [
        (0, 13.7, 0),
        (2.123476, 2.123476, 0),
        (64.5, 0, 0),
        (126.876524, 2.123476, 0),
        (129, 13.7, 0),
        (126.876524, 25.276524, 0),
        (64.5, 27.4, 0),
        (2.123476, 25.276524, 0),
    ]]
    fillet(fillet008_edges, radius=FILLET008_R)


solid = Compound([aabattery.part, aaholder.part, aaaholder.part])
